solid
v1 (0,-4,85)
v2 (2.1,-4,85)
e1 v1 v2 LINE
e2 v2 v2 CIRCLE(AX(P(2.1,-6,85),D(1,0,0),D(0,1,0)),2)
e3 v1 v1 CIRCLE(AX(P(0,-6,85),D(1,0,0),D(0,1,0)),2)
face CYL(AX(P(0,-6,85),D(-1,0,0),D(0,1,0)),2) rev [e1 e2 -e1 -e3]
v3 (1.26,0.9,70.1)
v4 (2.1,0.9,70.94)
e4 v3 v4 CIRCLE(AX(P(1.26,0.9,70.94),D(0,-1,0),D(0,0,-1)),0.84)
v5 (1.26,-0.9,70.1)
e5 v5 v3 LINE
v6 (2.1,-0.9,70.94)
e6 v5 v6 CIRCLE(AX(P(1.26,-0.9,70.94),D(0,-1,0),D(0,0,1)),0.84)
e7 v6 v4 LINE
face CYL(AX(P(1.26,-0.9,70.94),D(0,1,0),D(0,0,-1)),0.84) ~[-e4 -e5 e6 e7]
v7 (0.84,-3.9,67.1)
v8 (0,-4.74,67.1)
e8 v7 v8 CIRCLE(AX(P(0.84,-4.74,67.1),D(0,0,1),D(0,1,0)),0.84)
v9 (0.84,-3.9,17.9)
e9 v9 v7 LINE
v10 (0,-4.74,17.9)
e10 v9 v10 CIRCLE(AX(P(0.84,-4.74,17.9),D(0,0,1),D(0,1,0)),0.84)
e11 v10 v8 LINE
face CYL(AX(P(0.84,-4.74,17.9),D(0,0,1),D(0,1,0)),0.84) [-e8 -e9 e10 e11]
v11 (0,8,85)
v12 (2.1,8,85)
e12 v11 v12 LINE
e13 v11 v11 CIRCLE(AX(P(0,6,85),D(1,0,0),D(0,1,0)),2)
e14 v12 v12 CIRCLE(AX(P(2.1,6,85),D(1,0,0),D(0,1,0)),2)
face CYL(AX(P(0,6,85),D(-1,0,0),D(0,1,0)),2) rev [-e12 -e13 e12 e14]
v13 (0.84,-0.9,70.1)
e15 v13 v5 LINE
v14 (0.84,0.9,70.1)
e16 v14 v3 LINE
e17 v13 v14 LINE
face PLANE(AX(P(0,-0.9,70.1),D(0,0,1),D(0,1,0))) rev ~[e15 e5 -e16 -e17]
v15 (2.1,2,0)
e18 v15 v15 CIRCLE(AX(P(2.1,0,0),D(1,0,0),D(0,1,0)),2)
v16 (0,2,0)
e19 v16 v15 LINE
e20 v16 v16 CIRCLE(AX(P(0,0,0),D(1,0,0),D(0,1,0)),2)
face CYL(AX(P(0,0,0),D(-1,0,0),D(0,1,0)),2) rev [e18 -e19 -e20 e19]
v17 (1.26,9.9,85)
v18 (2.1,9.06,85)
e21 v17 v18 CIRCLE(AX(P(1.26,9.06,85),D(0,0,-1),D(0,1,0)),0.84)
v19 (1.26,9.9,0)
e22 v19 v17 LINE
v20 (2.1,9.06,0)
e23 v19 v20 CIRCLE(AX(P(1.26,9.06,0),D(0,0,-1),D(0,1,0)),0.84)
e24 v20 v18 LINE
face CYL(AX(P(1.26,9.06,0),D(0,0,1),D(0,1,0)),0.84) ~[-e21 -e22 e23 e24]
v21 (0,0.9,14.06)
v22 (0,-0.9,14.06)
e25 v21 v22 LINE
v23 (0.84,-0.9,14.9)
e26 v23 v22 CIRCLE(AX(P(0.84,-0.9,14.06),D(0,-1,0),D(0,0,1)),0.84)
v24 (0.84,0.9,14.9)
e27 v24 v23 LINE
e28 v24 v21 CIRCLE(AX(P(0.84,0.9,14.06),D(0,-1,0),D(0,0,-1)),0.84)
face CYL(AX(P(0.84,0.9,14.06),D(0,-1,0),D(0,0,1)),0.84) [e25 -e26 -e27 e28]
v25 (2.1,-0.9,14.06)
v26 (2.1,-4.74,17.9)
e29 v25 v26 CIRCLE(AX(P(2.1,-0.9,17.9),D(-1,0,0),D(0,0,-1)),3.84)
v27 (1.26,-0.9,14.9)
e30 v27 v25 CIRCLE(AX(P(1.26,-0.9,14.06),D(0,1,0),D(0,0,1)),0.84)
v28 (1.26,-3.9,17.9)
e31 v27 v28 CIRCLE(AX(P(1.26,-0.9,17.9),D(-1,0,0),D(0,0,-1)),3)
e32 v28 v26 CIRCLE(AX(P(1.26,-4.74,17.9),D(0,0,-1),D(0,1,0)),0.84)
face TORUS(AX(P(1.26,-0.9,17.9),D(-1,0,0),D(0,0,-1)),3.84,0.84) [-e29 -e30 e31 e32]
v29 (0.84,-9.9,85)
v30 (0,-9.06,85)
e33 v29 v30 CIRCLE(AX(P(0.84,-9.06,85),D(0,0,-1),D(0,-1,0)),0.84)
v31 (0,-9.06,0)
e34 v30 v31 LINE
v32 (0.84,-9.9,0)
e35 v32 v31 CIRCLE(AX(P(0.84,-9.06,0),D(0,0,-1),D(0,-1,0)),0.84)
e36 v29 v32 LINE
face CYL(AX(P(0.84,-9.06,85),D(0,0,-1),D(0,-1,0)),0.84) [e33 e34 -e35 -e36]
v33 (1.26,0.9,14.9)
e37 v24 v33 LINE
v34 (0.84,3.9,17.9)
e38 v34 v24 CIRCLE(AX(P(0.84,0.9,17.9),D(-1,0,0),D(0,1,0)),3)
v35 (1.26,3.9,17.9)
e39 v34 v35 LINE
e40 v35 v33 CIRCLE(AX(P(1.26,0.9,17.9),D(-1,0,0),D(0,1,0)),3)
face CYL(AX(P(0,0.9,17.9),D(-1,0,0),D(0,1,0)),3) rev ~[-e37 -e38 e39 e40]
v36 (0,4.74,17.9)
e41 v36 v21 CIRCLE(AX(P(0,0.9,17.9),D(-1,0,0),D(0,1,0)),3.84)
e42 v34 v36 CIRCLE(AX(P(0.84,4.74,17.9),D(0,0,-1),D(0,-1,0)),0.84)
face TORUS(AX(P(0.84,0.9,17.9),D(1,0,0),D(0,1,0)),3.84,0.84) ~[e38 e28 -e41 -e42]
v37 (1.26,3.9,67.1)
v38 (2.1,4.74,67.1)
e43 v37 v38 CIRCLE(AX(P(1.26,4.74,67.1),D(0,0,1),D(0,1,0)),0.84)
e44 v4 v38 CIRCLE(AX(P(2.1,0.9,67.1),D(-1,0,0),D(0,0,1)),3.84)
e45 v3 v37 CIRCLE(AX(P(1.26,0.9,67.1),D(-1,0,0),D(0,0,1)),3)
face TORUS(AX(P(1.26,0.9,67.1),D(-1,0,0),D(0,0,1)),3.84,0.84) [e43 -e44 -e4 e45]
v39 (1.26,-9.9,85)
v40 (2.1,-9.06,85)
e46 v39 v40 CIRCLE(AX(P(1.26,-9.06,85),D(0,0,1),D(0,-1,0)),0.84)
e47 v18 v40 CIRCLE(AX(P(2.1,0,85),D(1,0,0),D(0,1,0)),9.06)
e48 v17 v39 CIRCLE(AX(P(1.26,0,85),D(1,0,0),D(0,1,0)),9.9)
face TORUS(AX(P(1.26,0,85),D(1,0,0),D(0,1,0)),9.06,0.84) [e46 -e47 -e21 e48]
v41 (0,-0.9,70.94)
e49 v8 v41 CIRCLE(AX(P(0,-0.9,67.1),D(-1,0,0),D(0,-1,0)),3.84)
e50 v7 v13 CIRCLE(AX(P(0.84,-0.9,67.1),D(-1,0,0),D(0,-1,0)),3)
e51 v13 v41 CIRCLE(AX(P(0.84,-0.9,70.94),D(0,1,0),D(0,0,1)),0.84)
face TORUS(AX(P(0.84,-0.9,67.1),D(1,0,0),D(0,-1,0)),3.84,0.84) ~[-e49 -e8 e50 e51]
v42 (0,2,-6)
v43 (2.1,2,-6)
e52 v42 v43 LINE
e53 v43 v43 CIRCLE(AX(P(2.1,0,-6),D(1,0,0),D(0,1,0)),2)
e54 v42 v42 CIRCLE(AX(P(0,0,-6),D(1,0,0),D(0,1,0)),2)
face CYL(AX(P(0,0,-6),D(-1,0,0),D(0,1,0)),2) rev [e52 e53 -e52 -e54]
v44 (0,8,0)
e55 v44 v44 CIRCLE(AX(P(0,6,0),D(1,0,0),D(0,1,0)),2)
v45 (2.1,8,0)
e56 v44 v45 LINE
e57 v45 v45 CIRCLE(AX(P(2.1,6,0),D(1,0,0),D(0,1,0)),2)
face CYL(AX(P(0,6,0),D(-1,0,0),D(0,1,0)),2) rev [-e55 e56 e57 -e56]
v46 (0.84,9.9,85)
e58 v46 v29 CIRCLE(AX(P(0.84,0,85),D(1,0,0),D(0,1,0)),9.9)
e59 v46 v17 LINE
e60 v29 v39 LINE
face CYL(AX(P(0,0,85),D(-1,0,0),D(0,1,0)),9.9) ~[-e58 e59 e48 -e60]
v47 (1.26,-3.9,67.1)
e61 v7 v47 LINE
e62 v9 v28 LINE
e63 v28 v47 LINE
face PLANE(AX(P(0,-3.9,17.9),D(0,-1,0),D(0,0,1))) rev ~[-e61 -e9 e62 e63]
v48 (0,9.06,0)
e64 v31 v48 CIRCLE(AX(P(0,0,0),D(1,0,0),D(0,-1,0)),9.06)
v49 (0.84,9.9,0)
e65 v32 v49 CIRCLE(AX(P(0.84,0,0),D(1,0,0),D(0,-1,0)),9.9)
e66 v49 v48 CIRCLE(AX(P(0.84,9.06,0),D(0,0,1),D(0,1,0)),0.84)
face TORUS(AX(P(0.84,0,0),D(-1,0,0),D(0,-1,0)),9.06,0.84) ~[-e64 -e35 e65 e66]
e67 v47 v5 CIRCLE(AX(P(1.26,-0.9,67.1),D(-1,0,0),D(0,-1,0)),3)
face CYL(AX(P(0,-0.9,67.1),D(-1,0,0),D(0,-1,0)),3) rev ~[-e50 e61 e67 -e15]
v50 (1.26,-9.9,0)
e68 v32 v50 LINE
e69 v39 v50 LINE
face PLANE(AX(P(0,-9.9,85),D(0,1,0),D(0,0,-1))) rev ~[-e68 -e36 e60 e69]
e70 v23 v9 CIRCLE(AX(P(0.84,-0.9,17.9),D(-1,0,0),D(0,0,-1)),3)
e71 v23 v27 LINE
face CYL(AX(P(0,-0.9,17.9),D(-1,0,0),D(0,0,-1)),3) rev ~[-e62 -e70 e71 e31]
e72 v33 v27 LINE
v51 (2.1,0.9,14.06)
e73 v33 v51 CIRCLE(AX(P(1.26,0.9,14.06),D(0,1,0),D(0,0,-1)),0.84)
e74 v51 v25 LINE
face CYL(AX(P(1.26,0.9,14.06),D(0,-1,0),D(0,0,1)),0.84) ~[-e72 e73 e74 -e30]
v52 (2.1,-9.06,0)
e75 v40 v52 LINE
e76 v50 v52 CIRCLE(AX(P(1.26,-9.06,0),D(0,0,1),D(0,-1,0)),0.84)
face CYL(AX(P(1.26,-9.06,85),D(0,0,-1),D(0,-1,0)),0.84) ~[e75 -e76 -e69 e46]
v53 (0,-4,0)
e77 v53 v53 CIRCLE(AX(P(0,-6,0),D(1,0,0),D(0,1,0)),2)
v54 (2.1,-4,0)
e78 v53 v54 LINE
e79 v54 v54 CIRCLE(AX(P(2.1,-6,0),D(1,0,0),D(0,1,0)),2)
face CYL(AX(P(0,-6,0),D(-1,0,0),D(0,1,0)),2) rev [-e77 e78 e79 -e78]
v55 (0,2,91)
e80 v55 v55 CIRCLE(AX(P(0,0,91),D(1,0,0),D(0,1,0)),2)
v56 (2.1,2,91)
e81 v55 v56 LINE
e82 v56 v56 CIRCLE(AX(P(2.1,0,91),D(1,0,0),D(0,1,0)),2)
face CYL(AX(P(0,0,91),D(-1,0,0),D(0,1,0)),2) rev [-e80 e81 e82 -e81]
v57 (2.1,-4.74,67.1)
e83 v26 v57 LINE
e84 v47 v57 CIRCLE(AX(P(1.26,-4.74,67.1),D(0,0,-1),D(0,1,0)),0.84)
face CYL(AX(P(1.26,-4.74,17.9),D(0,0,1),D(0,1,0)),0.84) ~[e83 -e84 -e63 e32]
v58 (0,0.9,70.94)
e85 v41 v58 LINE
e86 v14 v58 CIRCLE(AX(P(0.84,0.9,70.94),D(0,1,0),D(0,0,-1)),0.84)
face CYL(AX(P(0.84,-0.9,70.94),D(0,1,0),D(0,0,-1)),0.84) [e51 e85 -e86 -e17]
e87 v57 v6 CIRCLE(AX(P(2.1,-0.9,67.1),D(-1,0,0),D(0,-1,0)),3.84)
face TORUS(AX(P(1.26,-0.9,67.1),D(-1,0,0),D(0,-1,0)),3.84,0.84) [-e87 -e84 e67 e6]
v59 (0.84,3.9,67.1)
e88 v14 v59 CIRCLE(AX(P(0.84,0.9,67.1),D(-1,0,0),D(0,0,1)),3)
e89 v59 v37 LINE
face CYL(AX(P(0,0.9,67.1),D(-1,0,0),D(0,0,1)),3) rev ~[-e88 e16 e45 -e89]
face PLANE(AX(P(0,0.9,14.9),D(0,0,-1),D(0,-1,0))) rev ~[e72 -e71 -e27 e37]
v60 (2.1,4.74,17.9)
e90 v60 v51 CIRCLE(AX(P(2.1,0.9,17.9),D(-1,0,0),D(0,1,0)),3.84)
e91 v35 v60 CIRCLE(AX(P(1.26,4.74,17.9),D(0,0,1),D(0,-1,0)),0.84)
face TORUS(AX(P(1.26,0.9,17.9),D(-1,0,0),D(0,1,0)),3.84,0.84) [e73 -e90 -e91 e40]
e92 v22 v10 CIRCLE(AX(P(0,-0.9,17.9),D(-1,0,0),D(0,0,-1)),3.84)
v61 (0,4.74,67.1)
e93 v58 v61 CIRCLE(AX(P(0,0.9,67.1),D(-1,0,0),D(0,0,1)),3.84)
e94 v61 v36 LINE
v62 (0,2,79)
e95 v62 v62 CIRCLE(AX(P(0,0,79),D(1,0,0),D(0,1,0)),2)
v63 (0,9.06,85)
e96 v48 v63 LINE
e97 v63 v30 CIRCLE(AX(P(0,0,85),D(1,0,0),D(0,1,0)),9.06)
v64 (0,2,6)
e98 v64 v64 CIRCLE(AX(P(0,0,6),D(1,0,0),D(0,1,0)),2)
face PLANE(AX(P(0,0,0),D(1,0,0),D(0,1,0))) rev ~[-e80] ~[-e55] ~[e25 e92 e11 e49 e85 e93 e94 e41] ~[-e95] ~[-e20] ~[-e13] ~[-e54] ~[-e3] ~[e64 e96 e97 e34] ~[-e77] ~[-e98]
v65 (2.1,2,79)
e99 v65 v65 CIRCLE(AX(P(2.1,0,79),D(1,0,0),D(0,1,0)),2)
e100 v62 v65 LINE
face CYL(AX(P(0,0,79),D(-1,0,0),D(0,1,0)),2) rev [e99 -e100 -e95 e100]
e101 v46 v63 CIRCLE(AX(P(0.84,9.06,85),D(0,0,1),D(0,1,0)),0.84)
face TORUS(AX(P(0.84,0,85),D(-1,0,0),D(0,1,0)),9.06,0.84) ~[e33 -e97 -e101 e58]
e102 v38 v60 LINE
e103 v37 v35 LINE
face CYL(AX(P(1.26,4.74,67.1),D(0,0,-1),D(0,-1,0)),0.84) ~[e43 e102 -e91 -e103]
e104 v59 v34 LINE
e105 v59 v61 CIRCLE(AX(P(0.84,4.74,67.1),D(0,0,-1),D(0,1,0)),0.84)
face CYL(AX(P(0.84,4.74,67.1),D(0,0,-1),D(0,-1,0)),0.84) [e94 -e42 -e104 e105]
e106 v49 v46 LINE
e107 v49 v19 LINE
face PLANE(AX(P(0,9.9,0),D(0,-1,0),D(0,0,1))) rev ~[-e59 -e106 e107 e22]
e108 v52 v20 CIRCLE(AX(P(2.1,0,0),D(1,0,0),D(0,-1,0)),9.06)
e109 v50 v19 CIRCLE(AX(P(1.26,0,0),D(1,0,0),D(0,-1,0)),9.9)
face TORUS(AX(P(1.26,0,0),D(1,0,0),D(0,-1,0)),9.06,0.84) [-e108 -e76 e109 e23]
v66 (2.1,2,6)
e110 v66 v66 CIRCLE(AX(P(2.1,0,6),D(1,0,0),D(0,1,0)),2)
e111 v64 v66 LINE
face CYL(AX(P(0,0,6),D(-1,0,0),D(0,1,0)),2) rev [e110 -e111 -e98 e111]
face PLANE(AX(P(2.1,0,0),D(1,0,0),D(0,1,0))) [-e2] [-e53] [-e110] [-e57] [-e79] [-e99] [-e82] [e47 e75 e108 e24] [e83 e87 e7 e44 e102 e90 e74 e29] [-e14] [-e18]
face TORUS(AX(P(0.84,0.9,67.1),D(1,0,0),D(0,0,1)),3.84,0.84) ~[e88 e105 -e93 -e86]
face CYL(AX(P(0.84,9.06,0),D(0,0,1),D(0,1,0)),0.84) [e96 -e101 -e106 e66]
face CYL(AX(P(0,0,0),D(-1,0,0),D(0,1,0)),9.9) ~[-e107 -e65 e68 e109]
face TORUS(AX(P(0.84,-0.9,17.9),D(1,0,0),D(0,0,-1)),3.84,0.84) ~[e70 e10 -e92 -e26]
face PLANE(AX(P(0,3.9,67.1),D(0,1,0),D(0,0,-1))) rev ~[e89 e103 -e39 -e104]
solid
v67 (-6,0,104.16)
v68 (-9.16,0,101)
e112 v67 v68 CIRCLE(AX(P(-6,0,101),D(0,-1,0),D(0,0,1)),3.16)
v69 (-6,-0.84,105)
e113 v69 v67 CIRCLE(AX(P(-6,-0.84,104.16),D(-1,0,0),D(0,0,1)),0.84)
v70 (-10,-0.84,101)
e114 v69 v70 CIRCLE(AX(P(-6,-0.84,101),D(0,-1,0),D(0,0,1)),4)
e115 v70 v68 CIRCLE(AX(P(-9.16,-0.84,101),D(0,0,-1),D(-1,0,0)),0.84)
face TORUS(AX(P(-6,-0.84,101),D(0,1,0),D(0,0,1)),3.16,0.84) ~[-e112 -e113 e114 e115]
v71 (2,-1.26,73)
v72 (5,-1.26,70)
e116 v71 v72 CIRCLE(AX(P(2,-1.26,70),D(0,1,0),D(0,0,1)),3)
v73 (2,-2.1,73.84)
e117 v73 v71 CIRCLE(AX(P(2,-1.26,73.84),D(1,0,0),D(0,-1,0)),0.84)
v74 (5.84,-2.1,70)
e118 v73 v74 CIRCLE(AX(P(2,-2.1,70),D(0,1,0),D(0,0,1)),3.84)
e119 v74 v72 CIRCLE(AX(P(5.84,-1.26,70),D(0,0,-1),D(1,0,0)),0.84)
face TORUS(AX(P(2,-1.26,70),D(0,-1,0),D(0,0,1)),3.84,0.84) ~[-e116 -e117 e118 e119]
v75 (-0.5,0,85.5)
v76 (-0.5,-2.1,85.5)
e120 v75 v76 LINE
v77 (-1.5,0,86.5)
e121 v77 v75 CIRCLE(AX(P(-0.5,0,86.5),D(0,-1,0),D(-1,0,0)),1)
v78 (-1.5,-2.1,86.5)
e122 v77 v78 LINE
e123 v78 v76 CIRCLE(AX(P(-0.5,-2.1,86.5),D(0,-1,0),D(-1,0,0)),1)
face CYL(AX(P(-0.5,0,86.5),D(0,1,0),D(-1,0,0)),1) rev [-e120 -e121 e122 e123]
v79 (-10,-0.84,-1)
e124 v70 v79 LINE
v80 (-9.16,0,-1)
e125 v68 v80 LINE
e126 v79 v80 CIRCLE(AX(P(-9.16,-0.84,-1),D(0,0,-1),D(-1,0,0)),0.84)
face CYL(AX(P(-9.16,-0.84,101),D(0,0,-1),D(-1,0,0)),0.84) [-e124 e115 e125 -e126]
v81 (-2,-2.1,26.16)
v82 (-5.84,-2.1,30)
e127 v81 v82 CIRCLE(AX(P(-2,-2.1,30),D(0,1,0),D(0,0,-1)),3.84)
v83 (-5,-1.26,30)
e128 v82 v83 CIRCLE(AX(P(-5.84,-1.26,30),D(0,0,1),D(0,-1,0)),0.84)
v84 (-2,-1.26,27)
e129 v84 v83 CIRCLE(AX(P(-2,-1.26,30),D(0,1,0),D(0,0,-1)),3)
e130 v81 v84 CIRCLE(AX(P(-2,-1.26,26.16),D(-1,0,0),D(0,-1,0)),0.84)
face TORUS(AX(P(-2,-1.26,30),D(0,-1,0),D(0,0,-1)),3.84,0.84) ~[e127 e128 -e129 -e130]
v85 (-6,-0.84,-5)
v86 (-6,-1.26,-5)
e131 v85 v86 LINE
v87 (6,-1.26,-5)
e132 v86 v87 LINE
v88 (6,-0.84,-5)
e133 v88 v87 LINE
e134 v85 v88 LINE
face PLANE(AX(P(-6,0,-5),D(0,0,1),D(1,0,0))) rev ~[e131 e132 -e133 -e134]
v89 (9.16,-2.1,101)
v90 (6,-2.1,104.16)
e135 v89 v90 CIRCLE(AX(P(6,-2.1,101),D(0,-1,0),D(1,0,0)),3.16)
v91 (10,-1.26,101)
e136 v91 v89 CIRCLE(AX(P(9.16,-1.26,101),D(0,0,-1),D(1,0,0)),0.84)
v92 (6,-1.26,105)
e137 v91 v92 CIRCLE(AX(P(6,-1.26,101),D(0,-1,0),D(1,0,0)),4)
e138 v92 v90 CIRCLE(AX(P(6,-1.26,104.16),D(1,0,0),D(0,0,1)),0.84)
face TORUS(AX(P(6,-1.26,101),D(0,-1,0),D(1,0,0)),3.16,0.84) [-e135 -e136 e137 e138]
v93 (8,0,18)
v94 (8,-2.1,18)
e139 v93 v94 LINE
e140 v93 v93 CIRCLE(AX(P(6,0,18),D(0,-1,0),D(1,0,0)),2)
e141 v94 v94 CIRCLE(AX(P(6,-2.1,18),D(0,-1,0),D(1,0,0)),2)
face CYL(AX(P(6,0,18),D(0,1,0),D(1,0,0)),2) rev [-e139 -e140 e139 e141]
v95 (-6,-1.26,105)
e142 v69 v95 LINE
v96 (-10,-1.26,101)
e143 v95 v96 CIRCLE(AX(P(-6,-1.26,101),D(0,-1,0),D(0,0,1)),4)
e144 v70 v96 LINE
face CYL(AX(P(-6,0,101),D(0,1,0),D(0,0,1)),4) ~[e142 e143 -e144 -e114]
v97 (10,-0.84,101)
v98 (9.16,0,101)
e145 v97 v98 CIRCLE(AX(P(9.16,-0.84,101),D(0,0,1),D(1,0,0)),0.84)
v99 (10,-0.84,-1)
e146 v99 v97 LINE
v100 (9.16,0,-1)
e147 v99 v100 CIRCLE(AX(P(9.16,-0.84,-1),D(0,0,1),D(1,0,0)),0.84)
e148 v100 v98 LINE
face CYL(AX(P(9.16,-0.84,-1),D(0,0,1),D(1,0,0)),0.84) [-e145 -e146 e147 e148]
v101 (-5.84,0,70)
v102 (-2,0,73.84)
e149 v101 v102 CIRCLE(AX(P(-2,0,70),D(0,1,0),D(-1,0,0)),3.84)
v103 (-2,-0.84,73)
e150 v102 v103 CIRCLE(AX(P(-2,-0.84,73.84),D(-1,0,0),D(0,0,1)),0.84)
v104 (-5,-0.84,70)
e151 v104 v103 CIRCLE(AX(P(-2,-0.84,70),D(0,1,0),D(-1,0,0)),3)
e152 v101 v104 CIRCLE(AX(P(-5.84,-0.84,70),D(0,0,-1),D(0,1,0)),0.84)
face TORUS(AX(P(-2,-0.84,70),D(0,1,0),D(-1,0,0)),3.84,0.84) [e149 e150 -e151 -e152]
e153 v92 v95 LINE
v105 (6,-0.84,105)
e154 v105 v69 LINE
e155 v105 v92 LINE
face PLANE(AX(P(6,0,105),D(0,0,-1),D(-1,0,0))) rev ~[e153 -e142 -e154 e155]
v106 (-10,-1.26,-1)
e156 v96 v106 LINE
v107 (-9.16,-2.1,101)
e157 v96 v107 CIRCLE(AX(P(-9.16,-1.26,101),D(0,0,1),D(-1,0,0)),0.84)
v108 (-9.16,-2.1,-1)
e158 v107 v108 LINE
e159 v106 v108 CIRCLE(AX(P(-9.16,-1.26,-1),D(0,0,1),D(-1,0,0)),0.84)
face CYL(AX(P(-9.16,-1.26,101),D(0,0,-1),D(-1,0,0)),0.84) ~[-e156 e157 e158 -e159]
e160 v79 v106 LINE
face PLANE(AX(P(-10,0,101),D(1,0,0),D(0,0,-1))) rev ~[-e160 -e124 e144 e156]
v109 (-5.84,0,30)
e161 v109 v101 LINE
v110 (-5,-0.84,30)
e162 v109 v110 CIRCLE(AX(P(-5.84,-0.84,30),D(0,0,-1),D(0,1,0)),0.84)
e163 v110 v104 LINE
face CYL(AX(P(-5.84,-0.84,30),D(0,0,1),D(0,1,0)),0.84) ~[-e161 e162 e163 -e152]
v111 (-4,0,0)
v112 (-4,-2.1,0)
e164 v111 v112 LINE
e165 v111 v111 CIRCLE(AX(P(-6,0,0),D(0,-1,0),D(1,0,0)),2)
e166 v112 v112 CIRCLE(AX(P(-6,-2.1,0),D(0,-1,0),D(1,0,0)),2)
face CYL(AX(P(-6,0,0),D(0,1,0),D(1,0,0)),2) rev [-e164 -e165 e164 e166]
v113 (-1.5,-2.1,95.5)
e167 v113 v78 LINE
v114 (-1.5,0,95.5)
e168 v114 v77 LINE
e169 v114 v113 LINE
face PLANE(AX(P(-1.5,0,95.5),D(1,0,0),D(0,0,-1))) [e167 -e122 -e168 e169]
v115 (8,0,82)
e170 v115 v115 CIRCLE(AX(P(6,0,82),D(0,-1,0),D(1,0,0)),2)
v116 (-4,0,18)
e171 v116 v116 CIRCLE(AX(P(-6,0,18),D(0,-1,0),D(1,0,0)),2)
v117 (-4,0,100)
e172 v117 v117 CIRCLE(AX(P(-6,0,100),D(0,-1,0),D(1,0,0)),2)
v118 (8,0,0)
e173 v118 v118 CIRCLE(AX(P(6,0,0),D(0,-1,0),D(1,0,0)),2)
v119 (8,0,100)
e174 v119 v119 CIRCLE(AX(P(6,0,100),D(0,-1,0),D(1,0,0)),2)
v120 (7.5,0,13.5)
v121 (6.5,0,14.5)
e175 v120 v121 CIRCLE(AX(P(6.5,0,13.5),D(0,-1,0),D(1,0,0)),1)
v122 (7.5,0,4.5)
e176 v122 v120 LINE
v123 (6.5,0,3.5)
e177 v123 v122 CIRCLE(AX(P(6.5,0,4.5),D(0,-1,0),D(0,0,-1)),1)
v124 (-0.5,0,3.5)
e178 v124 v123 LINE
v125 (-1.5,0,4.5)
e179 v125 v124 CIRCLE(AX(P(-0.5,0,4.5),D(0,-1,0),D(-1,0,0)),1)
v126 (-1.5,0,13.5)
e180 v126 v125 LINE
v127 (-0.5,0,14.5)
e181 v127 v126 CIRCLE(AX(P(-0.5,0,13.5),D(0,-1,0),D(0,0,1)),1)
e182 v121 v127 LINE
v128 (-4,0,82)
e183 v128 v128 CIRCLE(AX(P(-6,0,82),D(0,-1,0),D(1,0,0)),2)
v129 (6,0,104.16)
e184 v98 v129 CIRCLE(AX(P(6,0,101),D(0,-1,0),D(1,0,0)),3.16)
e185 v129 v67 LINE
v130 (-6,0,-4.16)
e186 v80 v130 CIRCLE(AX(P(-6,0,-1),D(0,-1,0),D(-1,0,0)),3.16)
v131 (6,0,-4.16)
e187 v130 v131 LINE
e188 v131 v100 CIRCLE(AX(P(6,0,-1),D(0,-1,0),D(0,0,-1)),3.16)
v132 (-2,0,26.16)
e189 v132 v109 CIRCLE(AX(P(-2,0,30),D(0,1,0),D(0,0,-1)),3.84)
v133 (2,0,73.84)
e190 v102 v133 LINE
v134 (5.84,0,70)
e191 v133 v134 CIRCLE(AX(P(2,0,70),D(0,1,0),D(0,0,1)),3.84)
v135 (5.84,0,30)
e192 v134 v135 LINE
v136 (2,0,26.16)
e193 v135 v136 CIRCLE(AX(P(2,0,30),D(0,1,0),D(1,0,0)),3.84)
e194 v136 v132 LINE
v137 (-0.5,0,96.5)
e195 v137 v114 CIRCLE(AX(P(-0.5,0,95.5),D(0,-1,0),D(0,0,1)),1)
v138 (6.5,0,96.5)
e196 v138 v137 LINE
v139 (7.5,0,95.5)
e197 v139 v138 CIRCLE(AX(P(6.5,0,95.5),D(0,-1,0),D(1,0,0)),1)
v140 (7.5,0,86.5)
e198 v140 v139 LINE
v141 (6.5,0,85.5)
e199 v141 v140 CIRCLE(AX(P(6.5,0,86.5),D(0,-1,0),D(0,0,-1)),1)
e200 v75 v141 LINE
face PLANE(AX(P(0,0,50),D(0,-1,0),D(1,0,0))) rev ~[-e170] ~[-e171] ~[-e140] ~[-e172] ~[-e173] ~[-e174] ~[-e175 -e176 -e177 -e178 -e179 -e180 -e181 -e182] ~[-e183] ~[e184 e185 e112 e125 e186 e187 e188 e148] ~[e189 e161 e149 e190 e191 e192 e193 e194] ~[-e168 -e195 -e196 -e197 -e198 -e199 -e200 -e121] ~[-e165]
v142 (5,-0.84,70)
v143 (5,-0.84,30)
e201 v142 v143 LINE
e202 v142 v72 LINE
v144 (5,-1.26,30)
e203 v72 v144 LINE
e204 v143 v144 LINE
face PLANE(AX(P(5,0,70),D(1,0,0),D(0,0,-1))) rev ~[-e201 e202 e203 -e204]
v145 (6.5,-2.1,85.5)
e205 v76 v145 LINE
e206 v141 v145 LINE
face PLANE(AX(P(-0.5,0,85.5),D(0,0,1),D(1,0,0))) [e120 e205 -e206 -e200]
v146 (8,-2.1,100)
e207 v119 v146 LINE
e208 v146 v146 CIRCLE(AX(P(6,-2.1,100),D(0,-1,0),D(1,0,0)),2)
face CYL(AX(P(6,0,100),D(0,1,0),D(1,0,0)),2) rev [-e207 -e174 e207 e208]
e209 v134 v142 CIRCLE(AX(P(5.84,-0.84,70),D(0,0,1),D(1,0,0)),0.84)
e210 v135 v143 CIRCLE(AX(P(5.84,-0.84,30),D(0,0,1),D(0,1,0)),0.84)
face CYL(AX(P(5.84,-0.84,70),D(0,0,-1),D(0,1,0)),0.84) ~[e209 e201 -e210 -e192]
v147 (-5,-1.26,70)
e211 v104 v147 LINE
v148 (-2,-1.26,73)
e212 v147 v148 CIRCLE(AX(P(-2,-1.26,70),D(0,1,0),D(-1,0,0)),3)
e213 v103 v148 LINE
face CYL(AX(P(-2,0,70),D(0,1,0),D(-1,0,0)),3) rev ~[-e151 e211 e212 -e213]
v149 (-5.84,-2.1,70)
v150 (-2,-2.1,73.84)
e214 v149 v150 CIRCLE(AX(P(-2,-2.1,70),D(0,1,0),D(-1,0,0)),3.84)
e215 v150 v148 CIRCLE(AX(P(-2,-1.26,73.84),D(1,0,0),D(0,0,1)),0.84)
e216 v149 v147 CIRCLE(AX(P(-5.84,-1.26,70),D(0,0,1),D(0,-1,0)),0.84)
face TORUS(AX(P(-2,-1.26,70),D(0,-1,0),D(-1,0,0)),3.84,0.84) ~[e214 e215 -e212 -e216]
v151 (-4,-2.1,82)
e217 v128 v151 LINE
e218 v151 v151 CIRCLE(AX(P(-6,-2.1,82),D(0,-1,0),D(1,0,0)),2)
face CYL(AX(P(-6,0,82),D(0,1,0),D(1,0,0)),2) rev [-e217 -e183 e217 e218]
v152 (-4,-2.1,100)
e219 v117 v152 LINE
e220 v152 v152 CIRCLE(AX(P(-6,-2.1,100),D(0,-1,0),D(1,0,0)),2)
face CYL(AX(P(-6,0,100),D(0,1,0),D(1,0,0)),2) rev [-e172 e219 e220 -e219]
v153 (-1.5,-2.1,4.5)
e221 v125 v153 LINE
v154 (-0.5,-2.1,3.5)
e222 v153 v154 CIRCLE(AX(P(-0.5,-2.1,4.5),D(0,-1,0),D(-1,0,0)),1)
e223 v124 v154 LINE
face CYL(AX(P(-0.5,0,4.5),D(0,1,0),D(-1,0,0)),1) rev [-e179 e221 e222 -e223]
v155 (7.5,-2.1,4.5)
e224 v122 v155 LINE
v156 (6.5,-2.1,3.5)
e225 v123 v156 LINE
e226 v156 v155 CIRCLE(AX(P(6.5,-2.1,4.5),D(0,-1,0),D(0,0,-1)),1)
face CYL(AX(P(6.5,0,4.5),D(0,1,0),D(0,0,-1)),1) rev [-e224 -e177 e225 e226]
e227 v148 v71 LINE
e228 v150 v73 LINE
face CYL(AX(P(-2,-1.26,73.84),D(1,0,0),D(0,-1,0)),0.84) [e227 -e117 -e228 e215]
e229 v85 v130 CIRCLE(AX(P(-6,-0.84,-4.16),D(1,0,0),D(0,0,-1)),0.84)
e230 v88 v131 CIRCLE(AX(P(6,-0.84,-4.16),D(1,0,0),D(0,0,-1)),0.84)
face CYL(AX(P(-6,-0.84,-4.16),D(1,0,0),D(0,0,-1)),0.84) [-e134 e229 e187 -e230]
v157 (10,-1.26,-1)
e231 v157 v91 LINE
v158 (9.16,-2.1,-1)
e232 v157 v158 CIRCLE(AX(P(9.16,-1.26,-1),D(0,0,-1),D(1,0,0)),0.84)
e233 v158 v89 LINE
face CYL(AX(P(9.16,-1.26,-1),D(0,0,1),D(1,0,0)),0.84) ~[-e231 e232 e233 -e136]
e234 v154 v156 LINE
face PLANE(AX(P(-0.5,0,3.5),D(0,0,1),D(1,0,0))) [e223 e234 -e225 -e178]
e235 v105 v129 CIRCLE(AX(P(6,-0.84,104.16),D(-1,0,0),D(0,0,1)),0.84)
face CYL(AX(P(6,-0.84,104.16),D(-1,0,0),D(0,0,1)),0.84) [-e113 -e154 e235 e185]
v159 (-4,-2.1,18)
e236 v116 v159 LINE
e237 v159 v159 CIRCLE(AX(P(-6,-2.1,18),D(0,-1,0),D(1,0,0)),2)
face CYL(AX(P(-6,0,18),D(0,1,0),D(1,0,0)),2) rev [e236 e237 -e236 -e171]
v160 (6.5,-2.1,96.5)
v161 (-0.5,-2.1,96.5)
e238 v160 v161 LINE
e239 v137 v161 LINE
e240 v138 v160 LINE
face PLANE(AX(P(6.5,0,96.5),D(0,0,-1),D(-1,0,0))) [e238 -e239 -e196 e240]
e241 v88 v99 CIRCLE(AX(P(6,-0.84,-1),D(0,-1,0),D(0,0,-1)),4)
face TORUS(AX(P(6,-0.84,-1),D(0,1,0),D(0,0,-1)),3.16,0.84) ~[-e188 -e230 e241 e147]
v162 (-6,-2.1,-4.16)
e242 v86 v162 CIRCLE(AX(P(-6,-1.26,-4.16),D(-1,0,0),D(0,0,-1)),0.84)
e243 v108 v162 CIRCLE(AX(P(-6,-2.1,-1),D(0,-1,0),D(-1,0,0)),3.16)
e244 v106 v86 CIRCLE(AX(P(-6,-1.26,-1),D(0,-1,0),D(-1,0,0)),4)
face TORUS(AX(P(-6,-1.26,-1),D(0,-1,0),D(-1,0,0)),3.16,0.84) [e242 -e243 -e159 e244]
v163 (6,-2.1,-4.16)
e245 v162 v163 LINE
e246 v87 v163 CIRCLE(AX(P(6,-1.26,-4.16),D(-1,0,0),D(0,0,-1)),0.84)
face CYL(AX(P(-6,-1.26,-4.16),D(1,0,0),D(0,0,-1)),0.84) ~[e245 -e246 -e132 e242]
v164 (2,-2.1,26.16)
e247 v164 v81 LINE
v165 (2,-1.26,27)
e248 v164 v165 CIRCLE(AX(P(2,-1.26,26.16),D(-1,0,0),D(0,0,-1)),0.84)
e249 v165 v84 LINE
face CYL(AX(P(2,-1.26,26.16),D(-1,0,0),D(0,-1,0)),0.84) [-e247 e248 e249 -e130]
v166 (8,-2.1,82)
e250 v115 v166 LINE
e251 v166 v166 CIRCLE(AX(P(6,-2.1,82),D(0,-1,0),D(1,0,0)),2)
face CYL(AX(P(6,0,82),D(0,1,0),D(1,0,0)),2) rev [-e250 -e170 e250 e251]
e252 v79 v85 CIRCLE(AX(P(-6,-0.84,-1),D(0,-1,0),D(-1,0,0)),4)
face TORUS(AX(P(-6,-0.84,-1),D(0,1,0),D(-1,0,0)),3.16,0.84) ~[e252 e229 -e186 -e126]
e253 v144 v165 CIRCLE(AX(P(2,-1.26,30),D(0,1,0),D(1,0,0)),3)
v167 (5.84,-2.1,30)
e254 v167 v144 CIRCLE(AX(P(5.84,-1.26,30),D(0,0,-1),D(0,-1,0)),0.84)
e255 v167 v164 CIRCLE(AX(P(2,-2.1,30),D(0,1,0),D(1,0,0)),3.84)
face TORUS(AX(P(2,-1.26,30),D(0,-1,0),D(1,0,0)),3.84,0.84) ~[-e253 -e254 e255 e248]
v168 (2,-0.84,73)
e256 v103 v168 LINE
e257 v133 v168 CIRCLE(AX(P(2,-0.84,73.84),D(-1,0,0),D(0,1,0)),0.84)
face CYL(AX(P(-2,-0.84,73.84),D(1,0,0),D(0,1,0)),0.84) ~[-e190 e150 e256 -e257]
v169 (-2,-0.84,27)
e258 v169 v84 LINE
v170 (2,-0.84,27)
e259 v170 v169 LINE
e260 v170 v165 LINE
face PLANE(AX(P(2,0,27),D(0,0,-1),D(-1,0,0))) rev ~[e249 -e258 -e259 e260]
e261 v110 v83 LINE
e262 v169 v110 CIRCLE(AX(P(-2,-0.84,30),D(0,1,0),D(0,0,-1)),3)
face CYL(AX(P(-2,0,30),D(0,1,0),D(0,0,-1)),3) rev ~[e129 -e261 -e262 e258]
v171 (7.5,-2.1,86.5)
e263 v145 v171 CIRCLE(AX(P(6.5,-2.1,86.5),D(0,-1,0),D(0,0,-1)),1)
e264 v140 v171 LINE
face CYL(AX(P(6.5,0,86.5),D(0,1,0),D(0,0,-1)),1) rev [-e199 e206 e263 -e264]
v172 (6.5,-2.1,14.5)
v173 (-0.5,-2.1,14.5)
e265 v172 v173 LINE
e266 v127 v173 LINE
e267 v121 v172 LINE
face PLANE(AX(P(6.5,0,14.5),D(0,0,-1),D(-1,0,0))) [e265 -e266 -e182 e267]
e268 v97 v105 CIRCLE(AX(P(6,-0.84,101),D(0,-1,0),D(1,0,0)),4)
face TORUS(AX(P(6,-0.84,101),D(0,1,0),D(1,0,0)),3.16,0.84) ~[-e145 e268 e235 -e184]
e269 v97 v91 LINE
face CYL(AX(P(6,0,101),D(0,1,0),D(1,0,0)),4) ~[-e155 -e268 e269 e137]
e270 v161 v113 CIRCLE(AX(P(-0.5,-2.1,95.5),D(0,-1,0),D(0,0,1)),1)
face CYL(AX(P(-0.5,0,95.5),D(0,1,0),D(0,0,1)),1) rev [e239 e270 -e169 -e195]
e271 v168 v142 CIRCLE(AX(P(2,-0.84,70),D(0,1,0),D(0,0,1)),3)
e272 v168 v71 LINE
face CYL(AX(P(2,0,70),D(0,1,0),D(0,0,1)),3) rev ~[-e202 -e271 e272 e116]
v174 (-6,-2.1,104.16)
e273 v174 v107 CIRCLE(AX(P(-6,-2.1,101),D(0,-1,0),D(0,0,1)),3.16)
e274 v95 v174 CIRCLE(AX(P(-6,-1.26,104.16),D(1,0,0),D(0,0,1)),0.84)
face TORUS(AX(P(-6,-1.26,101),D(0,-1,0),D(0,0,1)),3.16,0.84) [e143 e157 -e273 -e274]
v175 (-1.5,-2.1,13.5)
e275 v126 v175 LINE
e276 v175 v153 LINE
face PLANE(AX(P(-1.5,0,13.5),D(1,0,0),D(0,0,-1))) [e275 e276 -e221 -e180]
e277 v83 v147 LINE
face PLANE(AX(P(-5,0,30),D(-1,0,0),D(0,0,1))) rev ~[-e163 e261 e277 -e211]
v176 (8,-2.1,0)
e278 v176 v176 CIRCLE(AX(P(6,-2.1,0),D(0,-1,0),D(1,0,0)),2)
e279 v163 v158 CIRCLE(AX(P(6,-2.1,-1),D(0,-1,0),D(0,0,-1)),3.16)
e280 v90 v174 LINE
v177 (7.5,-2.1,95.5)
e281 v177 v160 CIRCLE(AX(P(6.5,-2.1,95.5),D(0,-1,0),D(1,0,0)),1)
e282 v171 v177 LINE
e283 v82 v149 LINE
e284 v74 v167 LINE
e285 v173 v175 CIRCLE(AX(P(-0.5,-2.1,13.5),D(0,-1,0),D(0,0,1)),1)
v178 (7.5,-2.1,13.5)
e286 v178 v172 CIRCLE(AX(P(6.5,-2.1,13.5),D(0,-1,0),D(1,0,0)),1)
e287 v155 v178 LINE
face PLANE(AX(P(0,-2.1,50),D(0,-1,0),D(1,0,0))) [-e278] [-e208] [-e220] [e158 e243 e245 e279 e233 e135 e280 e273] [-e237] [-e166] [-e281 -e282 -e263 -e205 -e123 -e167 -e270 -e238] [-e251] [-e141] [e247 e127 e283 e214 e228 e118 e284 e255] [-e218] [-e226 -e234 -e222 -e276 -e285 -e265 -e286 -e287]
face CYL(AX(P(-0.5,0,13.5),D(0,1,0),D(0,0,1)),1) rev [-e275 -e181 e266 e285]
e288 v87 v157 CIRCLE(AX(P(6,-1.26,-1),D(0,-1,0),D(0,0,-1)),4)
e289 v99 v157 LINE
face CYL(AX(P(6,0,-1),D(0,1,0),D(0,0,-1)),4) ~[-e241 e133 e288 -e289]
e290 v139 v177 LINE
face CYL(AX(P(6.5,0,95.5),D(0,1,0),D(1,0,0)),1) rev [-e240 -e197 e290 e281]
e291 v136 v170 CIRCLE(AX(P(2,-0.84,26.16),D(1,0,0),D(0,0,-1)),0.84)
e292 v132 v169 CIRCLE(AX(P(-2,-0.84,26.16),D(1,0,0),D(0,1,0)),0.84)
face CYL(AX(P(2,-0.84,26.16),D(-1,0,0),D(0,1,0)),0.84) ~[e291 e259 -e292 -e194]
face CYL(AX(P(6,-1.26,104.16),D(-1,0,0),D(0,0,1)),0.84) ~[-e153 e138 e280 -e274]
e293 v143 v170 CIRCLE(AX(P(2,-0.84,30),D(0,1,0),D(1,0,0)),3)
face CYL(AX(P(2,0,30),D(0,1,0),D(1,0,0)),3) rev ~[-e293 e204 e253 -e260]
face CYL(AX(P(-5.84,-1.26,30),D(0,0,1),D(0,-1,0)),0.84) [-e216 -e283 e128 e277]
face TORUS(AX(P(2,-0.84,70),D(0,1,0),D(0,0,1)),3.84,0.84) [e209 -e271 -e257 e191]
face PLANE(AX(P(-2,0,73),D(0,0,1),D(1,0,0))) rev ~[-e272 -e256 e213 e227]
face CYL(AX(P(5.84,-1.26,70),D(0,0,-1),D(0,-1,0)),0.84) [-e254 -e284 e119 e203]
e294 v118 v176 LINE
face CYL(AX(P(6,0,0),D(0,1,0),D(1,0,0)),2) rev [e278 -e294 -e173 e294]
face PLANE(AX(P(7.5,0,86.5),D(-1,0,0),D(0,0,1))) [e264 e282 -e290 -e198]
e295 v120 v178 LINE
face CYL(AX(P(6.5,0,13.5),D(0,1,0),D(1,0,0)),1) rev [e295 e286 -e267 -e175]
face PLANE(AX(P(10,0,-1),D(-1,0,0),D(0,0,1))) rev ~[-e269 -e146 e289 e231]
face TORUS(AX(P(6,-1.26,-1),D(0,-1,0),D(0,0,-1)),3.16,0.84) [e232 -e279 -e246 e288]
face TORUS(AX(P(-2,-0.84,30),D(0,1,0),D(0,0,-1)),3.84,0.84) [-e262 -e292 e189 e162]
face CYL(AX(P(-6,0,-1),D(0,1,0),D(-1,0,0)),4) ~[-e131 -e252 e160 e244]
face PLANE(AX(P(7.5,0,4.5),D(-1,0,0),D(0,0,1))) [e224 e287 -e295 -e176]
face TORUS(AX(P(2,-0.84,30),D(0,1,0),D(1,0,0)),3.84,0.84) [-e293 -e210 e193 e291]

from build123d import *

# Parameters (mm, degrees)
F4_R      = 2
F5_DEPTH  = 2.1
F7_DEPTH  = 2.1
F8_R      = 0.84
F9_R      = 2
F10_DEPTH = 2.1
F11_R     = 0.84


with BuildPart() as f5:
    # F4 (on Front) → F5 (new body)
    with BuildSketch(Plane.XZ):
        with BuildLine():
            ThreePointArc((10, 101), (8.8284271247, 103.8284271247), (6, 105))
            Line((6, 105), (-6, 105))
            ThreePointArc((-6, 105), (-8.8284271247, 103.8284271247), (-10, 101))
            Line((-10, 101), (-10, -1))
            ThreePointArc((-10, -1), (-8.8284271247, -3.8284271247), (-6, -5))
            Line((-6, -5), (6, -5))
            ThreePointArc((6, -5), (8.8284271247, -3.8284271247), (10, -1))
            Line((10, -1), (10, 101))
        make_face()
        with Locations((-6, 0)):
            Circle(F4_R, mode=Mode.SUBTRACT)
        with Locations((-6, 18)):
            Circle(F4_R, mode=Mode.SUBTRACT)
        with Locations((6, 0)):
            Circle(F4_R, mode=Mode.SUBTRACT)
        with Locations((6, 18)):
            Circle(F4_R, mode=Mode.SUBTRACT)
        with BuildLine():
            ThreePointArc((5, 30), (4.1213203436, 27.8786796564), (2, 27))
            Line((2, 27), (-2, 27))
            ThreePointArc((-2, 27), (-4.1213203436, 27.8786796564), (-5, 30))
            Line((-5, 30), (-5, 70))
            ThreePointArc((-5, 70), (-4.1213203436, 72.1213203436), (-2, 73))
            Line((-2, 73), (2, 73))
            ThreePointArc((2, 73), (4.1213203436, 72.1213203436), (5, 70))
            Line((5, 70), (5, 30))
        make_face(mode=Mode.SUBTRACT)
        with Locations((-6, 82)):
            Circle(F4_R, mode=Mode.SUBTRACT)
        with Locations((-6, 100)):
            Circle(F4_R, mode=Mode.SUBTRACT)
        with Locations((6, 82)):
            Circle(F4_R, mode=Mode.SUBTRACT)
        with Locations((6, 100)):
            Circle(F4_R, mode=Mode.SUBTRACT)
    extrude(amount=F5_DEPTH)

    # F6 (on Front) → F7 (cut, through all)
    with BuildSketch(Plane.XZ):
        with BuildLine():
            Line((6.5, 14.5), (-0.5, 14.5))
            ThreePointArc((-0.5, 14.5), (-1.2071067812, 14.2071067812), (-1.5, 13.5))
            Line((-1.5, 13.5), (-1.5, 4.5))
            ThreePointArc((-1.5, 4.5), (-1.2071067812, 3.7928932188), (-0.5, 3.5))
            Line((-0.5, 3.5), (6.5, 3.5))
            ThreePointArc((6.5, 3.5), (7.2071067812, 3.7928932188), (7.5, 4.5))
            Line((7.5, 4.5), (7.5, 13.5))
            ThreePointArc((7.5, 13.5), (7.2071067812, 14.2071067812), (6.5, 14.5))
        make_face()
        with BuildLine():
            ThreePointArc((-1.5, 86.5), (-1.2071067812, 85.7928932188), (-0.5, 85.5))
            Line((-0.5, 85.5), (6.5, 85.5))
            ThreePointArc((6.5, 85.5), (7.2071067812, 85.7928932188), (7.5, 86.5))
            Line((7.5, 86.5), (7.5, 95.5))
            ThreePointArc((7.5, 95.5), (7.2071067812, 96.2071067812), (6.5, 96.5))
            Line((6.5, 96.5), (-0.5, 96.5))
            ThreePointArc((-0.5, 96.5), (-1.2071067812, 96.2071067812), (-1.5, 95.5))
            Line((-1.5, 95.5), (-1.5, 86.5))
        make_face()
    extrude(amount=F7_DEPTH, mode=Mode.SUBTRACT)

    # F8
    f8_edges = [f5.edges().sort_by_distance(p)[0] for p in [
        (10, -1.05, -1),
        (10, -1.05, 101),
        (10, 0, 50),
        (10, -2.1, 50),
        (-5, -1.05, 30),
        (-5, -1.05, 70),
        (-5, 0, 50),
        (-5, -2.1, 50),
    ]]
    fillet(f8_edges, radius=F8_R)


with BuildPart() as f10:
    # F9 (on Right) → F10 (new body)
    with BuildSketch(Plane.YZ):
        with BuildLine():
            ThreePointArc((-9.9, 0), (0, -9.9), (9.9, 0))
            ThreePointArc((9.9, 0), (0, 9.9), (-9.9, 0))
        make_face()
        with Locations((-6, 0)):
            Circle(F9_R, mode=Mode.SUBTRACT)
        with Locations((0, -6)):
            Circle(F9_R, mode=Mode.SUBTRACT)
        Circle(F9_R, mode=Mode.SUBTRACT)
        with Locations((0, 6)):
            Circle(F9_R, mode=Mode.SUBTRACT)
        with Locations((6, 0)):
            Circle(F9_R, mode=Mode.SUBTRACT)
        with BuildLine():
            ThreePointArc((-9.9, 0), (0, 9.9), (9.9, 0))
            Line((9.9, 0), (9.9, 85))
            ThreePointArc((9.9, 85), (0, 75.1), (-9.9, 85))
            Line((-9.9, 85), (-9.9, 0))
        make_face()
        with BuildLine():
            ThreePointArc((3.9, 17.9), (3.0213203436, 15.7786796564), (0.9, 14.9))
            Line((0.9, 14.9), (-0.9, 14.9))
            ThreePointArc((-0.9, 14.9), (-3.0213203436, 15.7786796564), (-3.9, 17.9))
            Line((-3.9, 17.9), (-3.9, 67.1))
            ThreePointArc((-3.9, 67.1), (-3.0213203436, 69.2213203436), (-0.9, 70.1))
            Line((-0.9, 70.1), (0.9, 70.1))
            ThreePointArc((0.9, 70.1), (3.0213203436, 69.2213203436), (3.9, 67.1))
            Line((3.9, 67.1), (3.9, 17.9))
        make_face(mode=Mode.SUBTRACT)
        with BuildLine():
            ThreePointArc((-9.9, 85), (0, 75.1), (9.9, 85))
            ThreePointArc((9.9, 85), (0, 94.9), (-9.9, 85))
        make_face()
        with Locations((-6, 85)):
            Circle(F9_R, mode=Mode.SUBTRACT)
        with Locations((0, 79)):
            Circle(F9_R, mode=Mode.SUBTRACT)
        with Locations((0, 91)):
            Circle(F9_R, mode=Mode.SUBTRACT)
        with Locations((6, 85)):
            Circle(F9_R, mode=Mode.SUBTRACT)
    extrude(amount=F10_DEPTH)

    # F11
    f11_edges = [f10.edges().sort_by_distance(p)[0] for p in [
        (1.05, 9.9, 0),
        (1.05, 9.9, 85),
        (0, 9.9, 42.5),
        (2.1, 9.9, 42.5),
        (1.05, -3.9, 17.9),
        (1.05, -3.9, 67.1),
        (0, -3.9, 42.5),
        (2.1, -3.9, 42.5),
    ]]
    fillet(f11_edges, radius=F11_R)


solid = Compound([f5.part, f10.part])
